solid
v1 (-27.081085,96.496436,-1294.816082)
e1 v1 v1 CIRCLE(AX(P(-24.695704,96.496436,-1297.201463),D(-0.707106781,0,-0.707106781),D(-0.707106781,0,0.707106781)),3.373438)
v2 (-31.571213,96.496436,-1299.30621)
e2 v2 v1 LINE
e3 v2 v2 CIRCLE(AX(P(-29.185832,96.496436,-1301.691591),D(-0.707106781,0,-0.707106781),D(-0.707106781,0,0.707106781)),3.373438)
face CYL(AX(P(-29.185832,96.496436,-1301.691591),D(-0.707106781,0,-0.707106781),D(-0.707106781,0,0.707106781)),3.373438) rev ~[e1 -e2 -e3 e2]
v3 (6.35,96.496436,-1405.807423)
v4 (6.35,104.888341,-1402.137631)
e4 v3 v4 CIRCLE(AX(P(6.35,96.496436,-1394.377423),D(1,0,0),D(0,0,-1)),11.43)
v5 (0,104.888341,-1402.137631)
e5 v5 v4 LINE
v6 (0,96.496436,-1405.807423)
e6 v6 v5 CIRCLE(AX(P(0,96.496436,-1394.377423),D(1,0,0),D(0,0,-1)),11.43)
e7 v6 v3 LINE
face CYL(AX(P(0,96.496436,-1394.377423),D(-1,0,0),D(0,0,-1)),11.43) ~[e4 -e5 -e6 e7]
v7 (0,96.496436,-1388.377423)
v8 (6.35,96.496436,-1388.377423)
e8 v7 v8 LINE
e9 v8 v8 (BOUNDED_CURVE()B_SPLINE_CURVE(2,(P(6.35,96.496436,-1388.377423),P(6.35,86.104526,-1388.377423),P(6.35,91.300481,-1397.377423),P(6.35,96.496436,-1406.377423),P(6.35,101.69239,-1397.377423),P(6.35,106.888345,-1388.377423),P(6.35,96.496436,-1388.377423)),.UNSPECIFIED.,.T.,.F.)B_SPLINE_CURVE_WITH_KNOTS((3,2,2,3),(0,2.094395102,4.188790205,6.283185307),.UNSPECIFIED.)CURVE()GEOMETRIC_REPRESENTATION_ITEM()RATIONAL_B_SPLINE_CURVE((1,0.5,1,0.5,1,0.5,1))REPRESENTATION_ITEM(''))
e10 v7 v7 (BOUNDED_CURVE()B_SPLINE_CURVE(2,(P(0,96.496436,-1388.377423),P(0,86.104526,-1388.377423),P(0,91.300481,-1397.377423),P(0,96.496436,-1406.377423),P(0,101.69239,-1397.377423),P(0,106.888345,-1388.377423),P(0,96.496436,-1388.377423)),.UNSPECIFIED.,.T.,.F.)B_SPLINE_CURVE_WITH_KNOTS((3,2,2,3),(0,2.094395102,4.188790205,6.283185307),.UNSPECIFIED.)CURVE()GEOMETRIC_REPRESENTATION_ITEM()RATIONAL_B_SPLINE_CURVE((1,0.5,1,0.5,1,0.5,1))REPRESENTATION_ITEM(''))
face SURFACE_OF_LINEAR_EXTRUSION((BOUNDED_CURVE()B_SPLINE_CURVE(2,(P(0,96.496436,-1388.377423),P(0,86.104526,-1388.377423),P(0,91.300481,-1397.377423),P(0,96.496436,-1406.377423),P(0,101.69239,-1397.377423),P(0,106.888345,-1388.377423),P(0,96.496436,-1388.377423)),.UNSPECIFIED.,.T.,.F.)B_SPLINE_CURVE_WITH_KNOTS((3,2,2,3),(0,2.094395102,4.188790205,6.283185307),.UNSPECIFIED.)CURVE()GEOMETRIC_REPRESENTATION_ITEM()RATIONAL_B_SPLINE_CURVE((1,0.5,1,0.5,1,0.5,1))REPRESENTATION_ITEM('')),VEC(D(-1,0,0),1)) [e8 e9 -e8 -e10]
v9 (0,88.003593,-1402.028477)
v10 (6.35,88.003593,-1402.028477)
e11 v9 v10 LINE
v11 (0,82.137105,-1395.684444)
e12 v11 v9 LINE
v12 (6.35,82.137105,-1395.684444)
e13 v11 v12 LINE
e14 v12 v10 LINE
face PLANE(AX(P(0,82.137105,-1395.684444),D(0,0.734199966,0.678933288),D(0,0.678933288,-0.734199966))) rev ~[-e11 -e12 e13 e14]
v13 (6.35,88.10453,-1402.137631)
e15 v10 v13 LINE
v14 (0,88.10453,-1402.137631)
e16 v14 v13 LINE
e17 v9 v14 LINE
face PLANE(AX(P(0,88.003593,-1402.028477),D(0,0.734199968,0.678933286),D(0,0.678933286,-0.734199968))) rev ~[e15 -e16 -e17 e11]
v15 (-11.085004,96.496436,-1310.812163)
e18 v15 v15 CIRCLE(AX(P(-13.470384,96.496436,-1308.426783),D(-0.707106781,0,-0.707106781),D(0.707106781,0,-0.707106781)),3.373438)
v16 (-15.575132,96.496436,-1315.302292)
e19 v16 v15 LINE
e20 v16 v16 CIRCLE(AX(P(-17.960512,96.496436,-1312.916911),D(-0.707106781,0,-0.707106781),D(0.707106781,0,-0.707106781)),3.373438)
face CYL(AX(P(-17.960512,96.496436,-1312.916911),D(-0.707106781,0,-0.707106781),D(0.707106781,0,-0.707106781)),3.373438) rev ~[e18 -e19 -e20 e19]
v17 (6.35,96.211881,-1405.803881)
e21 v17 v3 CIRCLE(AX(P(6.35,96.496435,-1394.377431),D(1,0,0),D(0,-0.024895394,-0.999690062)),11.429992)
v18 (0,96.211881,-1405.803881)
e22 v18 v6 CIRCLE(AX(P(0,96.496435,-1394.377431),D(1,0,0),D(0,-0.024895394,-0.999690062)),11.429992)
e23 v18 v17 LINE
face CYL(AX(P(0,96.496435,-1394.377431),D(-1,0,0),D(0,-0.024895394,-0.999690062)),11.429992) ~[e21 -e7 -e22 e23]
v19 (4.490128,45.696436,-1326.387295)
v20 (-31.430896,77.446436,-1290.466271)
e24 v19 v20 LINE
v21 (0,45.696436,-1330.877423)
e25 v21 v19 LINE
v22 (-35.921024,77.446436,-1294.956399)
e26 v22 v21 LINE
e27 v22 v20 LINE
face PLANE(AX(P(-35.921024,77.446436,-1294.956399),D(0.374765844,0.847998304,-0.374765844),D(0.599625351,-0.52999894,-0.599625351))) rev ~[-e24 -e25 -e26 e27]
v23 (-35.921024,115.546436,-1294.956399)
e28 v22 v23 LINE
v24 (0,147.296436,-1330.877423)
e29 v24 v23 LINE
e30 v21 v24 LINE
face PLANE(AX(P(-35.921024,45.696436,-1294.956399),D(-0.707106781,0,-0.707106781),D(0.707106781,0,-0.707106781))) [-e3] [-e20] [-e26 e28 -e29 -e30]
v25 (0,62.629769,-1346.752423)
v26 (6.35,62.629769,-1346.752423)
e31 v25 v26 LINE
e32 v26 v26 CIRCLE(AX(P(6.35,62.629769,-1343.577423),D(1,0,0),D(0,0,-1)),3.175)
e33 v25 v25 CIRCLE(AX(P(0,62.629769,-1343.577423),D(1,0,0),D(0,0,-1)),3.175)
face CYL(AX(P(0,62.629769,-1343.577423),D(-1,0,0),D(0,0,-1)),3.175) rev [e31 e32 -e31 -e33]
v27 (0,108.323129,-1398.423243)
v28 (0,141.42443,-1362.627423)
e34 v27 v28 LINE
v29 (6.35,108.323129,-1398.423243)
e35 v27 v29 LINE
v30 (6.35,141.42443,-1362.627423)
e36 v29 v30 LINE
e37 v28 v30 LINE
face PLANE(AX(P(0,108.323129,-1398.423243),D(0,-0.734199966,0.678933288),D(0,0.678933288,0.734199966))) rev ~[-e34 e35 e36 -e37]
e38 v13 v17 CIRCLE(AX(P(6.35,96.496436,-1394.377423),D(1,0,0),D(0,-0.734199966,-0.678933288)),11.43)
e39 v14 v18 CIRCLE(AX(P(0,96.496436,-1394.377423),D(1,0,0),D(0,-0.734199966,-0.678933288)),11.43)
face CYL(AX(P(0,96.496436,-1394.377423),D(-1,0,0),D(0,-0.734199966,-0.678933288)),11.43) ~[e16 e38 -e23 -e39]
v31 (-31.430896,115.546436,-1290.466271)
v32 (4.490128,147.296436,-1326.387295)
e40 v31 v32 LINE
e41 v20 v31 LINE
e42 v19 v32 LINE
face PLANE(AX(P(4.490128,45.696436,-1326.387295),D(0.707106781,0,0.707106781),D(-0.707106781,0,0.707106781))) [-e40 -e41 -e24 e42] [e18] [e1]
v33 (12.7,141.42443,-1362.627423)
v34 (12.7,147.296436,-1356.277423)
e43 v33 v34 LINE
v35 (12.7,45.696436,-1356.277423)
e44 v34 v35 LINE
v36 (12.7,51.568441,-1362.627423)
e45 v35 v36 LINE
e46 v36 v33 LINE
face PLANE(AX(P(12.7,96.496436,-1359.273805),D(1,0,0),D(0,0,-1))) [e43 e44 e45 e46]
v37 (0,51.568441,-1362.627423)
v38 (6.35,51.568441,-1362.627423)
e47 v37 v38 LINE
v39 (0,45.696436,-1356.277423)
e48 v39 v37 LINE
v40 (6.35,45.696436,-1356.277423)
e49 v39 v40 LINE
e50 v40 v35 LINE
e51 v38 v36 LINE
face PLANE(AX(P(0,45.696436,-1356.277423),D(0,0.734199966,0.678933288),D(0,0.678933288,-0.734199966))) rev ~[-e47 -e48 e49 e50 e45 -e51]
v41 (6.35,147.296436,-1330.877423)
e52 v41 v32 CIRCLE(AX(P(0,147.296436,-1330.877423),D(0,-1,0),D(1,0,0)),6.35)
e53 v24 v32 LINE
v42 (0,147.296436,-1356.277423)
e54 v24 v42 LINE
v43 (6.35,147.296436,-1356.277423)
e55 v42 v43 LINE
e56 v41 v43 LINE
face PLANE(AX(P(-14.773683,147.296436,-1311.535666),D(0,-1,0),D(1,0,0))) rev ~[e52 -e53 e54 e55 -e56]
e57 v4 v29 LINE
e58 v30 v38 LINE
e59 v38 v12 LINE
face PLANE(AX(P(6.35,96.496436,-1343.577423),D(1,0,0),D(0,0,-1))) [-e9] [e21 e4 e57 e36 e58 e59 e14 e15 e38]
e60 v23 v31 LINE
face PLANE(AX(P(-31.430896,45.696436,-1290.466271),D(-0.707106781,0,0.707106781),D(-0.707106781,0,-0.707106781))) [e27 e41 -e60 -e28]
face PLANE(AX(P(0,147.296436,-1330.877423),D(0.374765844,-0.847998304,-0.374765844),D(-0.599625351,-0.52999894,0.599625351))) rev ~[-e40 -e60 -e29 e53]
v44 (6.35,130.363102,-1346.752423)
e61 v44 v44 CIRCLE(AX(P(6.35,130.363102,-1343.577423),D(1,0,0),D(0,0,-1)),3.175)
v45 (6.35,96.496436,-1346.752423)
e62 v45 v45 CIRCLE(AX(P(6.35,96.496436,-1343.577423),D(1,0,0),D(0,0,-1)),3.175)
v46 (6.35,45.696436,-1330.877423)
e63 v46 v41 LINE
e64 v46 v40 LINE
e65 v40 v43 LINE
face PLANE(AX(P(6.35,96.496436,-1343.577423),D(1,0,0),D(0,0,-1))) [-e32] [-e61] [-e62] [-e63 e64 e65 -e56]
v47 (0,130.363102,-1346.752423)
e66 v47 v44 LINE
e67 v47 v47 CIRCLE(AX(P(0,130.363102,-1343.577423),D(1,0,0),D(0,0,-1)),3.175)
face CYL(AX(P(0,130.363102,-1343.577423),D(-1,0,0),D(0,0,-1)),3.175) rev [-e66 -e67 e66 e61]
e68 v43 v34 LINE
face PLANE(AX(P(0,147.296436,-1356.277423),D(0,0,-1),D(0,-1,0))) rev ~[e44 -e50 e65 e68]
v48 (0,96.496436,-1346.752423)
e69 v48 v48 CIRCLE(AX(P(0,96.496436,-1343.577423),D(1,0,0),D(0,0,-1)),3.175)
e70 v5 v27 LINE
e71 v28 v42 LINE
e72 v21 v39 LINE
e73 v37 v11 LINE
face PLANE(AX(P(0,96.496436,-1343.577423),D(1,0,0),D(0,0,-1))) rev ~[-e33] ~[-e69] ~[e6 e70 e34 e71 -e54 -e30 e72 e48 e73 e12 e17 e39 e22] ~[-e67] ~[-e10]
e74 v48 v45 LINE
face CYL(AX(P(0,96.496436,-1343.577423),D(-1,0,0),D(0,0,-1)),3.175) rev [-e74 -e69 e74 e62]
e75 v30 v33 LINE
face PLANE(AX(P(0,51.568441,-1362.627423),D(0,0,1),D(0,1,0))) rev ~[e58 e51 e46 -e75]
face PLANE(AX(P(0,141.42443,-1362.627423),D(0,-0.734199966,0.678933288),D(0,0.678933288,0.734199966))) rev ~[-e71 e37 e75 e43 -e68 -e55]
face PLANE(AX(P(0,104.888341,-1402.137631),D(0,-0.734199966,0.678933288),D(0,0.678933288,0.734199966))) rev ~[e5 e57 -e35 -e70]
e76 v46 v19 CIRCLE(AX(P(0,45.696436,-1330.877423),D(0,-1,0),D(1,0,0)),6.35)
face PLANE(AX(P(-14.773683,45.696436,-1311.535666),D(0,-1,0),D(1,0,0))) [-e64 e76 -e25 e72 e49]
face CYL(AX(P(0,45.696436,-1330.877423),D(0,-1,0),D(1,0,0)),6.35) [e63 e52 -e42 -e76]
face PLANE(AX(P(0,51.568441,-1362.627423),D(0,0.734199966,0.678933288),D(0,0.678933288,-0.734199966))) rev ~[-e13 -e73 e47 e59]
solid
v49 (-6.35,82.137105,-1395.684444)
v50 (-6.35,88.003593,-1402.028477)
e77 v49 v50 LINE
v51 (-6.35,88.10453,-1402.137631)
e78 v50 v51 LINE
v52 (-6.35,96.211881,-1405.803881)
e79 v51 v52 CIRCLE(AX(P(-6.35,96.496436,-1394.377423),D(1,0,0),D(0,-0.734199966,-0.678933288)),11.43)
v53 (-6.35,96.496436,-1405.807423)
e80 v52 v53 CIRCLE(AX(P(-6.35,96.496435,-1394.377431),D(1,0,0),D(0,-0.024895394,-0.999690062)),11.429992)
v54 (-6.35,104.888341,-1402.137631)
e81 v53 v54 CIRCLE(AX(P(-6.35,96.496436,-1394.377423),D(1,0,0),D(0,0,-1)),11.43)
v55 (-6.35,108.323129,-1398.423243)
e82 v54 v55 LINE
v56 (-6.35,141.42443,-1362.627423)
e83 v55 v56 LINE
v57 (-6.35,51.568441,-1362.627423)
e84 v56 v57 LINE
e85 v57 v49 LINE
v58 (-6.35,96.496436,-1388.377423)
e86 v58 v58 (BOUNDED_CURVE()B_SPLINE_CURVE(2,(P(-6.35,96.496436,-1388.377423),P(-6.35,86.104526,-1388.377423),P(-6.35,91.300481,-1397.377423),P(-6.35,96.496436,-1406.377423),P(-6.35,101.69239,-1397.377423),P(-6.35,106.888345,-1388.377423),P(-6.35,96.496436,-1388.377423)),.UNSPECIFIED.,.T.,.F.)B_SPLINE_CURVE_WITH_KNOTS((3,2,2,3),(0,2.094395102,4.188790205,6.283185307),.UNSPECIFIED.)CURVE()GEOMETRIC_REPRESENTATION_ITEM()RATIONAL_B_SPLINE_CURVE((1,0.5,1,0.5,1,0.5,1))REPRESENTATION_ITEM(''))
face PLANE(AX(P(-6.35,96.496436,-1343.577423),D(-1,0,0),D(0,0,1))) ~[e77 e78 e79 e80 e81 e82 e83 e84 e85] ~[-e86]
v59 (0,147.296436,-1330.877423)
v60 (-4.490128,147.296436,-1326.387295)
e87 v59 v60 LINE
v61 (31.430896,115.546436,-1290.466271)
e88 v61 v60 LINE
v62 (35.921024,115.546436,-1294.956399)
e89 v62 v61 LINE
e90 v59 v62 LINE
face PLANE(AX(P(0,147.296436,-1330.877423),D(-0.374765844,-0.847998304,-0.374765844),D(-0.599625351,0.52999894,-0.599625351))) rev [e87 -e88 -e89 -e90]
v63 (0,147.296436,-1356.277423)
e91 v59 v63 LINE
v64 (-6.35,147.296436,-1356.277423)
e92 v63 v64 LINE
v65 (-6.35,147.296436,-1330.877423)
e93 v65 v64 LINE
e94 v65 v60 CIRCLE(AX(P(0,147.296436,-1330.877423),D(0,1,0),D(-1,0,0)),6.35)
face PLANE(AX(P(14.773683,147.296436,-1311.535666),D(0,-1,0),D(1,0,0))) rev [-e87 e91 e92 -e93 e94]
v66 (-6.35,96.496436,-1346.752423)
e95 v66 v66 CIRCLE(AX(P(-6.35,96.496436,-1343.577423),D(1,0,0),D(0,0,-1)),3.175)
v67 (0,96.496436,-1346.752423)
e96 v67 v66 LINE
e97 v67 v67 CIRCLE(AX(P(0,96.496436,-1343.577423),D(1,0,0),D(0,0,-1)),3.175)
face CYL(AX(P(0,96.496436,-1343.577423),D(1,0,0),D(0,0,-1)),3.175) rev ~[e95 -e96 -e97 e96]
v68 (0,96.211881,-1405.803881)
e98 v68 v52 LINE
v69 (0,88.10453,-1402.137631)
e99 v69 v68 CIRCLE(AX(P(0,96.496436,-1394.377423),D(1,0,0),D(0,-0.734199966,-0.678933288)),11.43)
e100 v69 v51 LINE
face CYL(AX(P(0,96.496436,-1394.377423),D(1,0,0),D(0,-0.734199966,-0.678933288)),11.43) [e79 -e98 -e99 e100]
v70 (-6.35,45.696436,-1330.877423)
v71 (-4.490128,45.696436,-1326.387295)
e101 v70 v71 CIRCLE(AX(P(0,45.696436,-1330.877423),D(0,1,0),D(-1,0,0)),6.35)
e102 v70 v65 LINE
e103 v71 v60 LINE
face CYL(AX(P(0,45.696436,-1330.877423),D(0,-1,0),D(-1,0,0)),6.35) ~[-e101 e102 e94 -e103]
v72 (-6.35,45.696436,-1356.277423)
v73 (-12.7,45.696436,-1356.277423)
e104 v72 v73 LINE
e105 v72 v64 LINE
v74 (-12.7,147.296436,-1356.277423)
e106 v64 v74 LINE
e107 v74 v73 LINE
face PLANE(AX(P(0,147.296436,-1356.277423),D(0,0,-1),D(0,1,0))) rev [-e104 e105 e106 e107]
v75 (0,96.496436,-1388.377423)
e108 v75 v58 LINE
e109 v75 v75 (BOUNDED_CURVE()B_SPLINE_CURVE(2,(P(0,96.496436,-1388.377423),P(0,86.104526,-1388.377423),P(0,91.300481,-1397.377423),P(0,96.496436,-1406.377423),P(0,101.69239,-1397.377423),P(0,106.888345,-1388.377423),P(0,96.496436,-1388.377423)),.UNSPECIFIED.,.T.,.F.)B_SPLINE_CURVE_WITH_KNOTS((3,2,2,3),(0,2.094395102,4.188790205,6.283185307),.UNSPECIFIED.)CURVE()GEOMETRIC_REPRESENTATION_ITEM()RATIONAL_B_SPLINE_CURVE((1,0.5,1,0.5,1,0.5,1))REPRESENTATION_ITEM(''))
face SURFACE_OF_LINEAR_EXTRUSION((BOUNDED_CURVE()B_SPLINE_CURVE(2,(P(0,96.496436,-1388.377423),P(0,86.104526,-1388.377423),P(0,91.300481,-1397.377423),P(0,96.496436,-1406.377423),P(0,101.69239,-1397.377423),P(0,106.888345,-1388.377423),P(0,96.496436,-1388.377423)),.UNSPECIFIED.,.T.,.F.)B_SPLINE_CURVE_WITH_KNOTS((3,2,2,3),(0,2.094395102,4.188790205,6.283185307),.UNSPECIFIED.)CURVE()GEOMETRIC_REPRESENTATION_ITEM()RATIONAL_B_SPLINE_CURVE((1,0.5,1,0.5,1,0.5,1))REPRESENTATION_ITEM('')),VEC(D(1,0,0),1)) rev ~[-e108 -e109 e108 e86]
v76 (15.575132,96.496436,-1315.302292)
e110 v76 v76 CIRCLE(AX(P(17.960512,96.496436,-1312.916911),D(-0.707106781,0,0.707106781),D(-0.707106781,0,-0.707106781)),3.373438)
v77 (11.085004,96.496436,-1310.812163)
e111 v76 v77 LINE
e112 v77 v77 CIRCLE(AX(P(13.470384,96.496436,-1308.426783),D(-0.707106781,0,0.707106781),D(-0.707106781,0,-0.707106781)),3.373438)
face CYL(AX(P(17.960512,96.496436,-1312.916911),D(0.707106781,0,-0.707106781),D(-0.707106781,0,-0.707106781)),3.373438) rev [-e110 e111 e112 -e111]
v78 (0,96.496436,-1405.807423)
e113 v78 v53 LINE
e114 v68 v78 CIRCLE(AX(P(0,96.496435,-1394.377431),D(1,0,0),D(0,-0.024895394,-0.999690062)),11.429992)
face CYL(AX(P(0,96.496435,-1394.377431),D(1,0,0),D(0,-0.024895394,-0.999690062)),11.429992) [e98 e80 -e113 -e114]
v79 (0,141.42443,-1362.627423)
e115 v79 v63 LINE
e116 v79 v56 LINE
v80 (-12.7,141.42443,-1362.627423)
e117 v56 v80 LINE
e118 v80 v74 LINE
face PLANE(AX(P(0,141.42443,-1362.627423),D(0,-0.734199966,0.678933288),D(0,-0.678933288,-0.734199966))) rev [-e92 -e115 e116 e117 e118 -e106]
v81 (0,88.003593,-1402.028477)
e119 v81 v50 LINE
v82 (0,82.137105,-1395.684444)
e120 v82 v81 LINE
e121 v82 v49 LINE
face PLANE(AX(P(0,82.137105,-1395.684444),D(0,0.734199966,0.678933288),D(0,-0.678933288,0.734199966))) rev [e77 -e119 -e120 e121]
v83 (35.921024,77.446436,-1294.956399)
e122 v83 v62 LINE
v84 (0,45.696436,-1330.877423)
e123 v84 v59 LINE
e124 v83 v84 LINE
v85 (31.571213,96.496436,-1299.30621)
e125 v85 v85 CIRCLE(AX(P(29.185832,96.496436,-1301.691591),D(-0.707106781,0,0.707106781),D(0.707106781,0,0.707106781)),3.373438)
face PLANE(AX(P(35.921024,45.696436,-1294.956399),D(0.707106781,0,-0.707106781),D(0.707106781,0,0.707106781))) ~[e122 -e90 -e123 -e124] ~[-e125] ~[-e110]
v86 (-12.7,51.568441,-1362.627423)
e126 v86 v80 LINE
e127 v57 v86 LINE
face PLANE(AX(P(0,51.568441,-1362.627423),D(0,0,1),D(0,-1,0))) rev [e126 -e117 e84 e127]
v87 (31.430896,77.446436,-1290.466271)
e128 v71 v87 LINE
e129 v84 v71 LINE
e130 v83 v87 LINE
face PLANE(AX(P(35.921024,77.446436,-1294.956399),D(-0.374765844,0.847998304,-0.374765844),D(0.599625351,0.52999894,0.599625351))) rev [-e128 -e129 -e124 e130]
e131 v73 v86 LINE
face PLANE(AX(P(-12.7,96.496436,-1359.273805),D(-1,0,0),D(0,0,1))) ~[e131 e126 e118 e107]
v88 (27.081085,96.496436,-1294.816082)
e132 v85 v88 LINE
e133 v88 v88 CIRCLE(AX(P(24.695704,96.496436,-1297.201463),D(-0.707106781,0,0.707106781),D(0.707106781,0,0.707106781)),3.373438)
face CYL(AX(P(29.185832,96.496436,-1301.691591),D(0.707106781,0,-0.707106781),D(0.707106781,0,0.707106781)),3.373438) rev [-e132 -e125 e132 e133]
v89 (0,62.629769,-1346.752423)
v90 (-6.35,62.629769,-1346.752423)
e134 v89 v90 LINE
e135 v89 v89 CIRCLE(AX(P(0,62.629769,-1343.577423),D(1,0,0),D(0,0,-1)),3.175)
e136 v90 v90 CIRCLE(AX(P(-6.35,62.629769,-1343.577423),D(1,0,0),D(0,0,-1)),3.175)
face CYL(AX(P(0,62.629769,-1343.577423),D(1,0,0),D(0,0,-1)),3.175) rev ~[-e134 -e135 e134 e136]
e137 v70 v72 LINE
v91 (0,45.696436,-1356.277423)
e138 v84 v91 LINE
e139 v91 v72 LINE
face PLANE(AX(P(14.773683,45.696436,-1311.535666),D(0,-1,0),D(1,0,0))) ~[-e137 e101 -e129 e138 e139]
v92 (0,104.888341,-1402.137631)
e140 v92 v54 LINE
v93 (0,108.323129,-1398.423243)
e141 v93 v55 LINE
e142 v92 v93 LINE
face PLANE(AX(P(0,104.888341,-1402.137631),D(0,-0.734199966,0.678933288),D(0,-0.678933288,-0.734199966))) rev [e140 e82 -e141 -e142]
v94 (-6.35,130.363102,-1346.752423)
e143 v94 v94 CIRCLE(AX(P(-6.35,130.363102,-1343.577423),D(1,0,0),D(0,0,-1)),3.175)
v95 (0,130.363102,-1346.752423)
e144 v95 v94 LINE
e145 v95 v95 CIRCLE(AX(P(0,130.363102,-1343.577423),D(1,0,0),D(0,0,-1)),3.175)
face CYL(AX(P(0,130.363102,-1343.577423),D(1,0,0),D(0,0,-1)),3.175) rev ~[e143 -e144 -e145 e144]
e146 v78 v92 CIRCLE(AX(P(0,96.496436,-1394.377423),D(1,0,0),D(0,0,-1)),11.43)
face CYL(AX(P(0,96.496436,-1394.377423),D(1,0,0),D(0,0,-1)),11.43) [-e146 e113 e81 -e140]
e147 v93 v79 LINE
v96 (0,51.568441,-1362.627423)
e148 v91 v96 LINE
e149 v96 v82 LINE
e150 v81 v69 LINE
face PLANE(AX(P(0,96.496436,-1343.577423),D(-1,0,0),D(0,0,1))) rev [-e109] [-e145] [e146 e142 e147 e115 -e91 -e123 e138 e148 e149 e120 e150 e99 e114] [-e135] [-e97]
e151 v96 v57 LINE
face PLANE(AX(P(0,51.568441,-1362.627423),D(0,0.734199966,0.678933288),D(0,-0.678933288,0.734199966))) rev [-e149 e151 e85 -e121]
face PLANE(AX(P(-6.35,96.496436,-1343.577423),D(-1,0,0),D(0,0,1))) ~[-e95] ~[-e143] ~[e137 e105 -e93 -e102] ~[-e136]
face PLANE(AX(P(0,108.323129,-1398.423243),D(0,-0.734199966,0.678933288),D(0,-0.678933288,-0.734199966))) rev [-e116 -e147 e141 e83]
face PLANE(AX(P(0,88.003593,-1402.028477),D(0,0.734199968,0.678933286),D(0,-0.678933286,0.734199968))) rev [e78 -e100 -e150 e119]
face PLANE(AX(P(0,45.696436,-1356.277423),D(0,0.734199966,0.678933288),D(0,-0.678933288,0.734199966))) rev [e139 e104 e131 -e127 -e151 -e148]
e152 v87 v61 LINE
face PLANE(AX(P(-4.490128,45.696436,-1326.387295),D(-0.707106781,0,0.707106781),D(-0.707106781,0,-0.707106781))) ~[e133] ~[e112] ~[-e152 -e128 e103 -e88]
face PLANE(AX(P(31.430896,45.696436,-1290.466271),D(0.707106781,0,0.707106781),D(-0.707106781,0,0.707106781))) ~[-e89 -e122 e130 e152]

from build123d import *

# Parameters (mm, degrees)
SKETCH1_W           = 25.4
SKETCH1_H           = 101.6
SKETCH1_R           = 3.175
BOSS_EXTRUDE1_DEPTH = 6.35
BOSS_EXTRUDE2_DEPTH = 12.7
BOSS_EXTRUDE3_DEPTH = 101.6
CUT_EXTRUDE1_DEPTH  = 1015.748334056
CUT_EXTRUDE4_DEPTH  = 1015.748334056


with BuildPart() as part:
    # Sketch1 → Boss-Extrude1 (new body)
    # profile 1 of 7: a face of its own
    with BuildSketch(Plane(origin=(0, 0, 0), x_dir=(0, 0, -1), z_dir=(1, 0, 0))):
        with BuildLine():
            Line((1398.423242973, 108.323129495), (1362.627423264, 141.42442982))
            Line((1362.627423264, 141.42442982), (1362.627423264, 51.568441203))
            Line((1362.627423264, 51.568441203), (1395.68444407, 82.137104875))
            Line((1395.68444407, 82.137104875), (1389.154234775, 85.14044675))
            add(Edge.make_bspline(
                [(1398.423242973, 108.323129495), (1387.739315105, 111.977739505), (1383.021002085, 101.719425118), (1377.797813595, 90.363436356), (1389.154234775, 85.14044675)],
                knots=[1.250204036, 1.250204036, 1.250204036, 2.710509531, 2.710509531, 4.281305858, 4.281305858, 4.281305858], degree=2, weights=[0.96169376, 0.72770908, 1, 0.707106781, 1]))
        make_face()
    # profile 2 of 7: a face of its own
    with BuildSketch(Plane(origin=(0, 0, 0), x_dir=(0, 0, -1), z_dir=(1, 0, 0))):
        with BuildLine():
            Line((1402.137630748, 104.888341124), (1398.423242973, 108.323129495))
            add(Edge.make_bspline(
                [(1398.423242973, 108.323129495), (1387.739315105, 111.977739505), (1383.021002085, 101.719425118), (1377.797813595, 90.363436356), (1389.154234775, 85.14044675)],
                knots=[1.250204036, 1.250204036, 1.250204036, 2.710509531, 2.710509531, 4.281305858, 4.281305858, 4.281305858], degree=2, weights=[0.96169376, 0.72770908, 1, 0.707106781, 1]))
            Line((1389.154234775, 85.14044675), (1395.68444407, 82.137104875))
            Line((1395.68444407, 82.137104875), (1402.028477486, 88.003593115))
            Line((1402.028477486, 88.003593115), (1402.029499743, 88.005815653))
            ThreePointArc((1402.029499743, 88.005815653), (1382.947657703, 96.569642096), (1402.137630748, 104.888341124))
        make_face()
    # profile 3 of 7: a face of its own
    with BuildSketch(Plane(origin=(0, 0, 0), x_dir=(0, 0, -1), z_dir=(1, 0, 0))):
        with BuildLine():
            ThreePointArc((1405.807423264, 96.496435511), (1404.849864993, 101.076049494), (1402.137630748, 104.888341124))
            ThreePointArc((1402.137630748, 104.888341124), (1382.947657703, 96.569642096), (1402.029499743, 88.005815653))
            Line((1402.029499743, 88.005815653), (1405.803880671, 96.211881257))
            ThreePointArc((1405.803880671, 96.211881257), (1405.806537582, 96.354147359), (1405.807423264, 96.496435511))
        make_face()
        with BuildLine():
            add(Edge.make_bspline(
                [(1388.377423264, 96.496435511), (1388.377423264, 86.104526373), (1397.377423264, 91.300480942), (1406.377423264, 96.496435511), (1397.377423264, 101.69239008), (1388.377423264, 106.888344649), (1388.377423264, 96.496435511)],
                knots=[0, 0, 0, 2.094395102, 2.094395102, 4.188790205, 4.188790205, 6.283185307, 6.283185307, 6.283185307], degree=2, weights=[1, 0.5, 1, 0.5, 1, 0.5, 1]))
        make_face(mode=Mode.SUBTRACT)
    # profile 4 of 7: a face of its own
    with BuildSketch(Plane(origin=(0, 0, 0), x_dir=(0, 0, -1), z_dir=(1, 0, 0))):
        with BuildLine():
            Line((1405.803880671, 96.211881257), (1402.029499743, 88.005815653))
            ThreePointArc((1402.029499743, 88.005815653), (1402.083723308, 88.054999635), (1402.137630748, 88.104529898))
            ThreePointArc((1402.137630748, 88.104529898), (1404.792043465, 91.786808554), (1405.803880671, 96.211881257))
        make_face()
    # profile 5 of 7: a face of its own
    with BuildSketch(Plane(origin=(0, 0, 0), x_dir=(0, 0, -1), z_dir=(1, 0, 0))):
        with BuildLine():
            ThreePointArc((1402.137630748, 88.104529898), (1402.083723308, 88.054999635), (1402.029499743, 88.005815653))
            Line((1402.029499743, 88.005815653), (1402.028477486, 88.003593115))
            Line((1402.028477486, 88.003593115), (1402.137630748, 88.104529898))
        make_face()
    # profile 6 of 7: a face of its own
    with BuildSketch(Plane(origin=(0, 0, 0), x_dir=(0, 0, -1), z_dir=(1, 0, 0))):
        Polygon((1362.627423264, 51.568441203), (1362.627423264, 141.42442982), (1356.277423264, 147.296435511), (1356.277423264, 45.696435511), align=None)
    # profile 7 of 7: a face of its own
    with BuildSketch(Plane(origin=(0, 0, 0), x_dir=(0, 0, -1), z_dir=(1, 0, 0))):
        with Locations((1343.577423264, 96.496435511)):
            Rectangle(SKETCH1_W, SKETCH1_H)
        with Locations((1343.577423264, 96.496435511)):
            Circle(SKETCH1_R, mode=Mode.SUBTRACT)
        with Locations((1343.577423264, 130.363102178)):
            Circle(SKETCH1_R, mode=Mode.SUBTRACT)
        with Locations((1343.577423264, 62.629768844)):
            Circle(SKETCH1_R, mode=Mode.SUBTRACT)
    extrude(amount=BOSS_EXTRUDE1_DEPTH)

    # Sketch1<4> → Boss-Extrude2 (add)
    with BuildSketch(Plane(origin=(0, 0, 0), x_dir=(0, 0, -1), z_dir=(1, 0, 0))):
        Polygon((1362.627423264, 51.568441203), (1362.627423264, 141.42442982), (1356.277423264, 147.296435511), (1356.277423264, 45.696435511), align=None)
    extrude(amount=BOSS_EXTRUDE2_DEPTH)

    # Sketch2 → Boss-Extrude3 (add)
    with BuildSketch(Plane.XZ.offset(-45.696435511)):
        with BuildLine():
            Line((-35.921024484, -1294.95639878), (0, -1330.877423264))
            Line((0, -1330.877423264), (6.35, -1330.877423264))
            ThreePointArc((6.35, -1330.877423264), (5.866635031, -1328.447383469), (4.490128061, -1326.387295204))
            Line((4.490128061, -1326.387295204), (-31.430896424, -1290.46627072))
            Line((-31.430896424, -1290.46627072), (-35.921024484, -1294.95639878))
        make_face()
    extrude(amount=-BOSS_EXTRUDE3_DEPTH)

    # Sketch3 → Cut-Extrude1 (cut, through all)
    with BuildSketch(Plane(origin=(-665.438711632, 0, -665.438711632), x_dir=(-0.7071067811865446, 0, 0.7071067811865505), z_dir=(-0.7071067811865505, 0, -0.7071067811865446))):
        Polygon((-890.272450918, 147.296435511), (-941.072450918, 147.296435511), (-890.272450918, 115.546435511), align=None)
        Polygon((-890.272450918, 45.696435511), (-890.272450918, 77.446435511), (-941.072450918, 45.696435511), align=None)
    extrude(amount=-CUT_EXTRUDE1_DEPTH, mode=Mode.SUBTRACT)

    # Sketch7 → Cut-Extrude4 (cut, through all)
    with BuildSketch(Plane(origin=(-665.438711632, 0, -665.438711632), x_dir=(-0.7071067811865439, 0, 0.7071067811865511), z_dir=(-0.7071067811865511, 0, -0.7071067811865439))):
        with BuildLine():
            ThreePointArc((-912.299013418, 96.496435511), (-915.672450918, 99.869873011), (-919.045888418, 96.496435511))
            Line((-919.045888418, 96.496435511), (-912.299013418, 96.496435511))
        make_face()
        with BuildLine():
            Line((-912.299013418, 96.496435511), (-919.045888418, 96.496435511))
            ThreePointArc((-919.045888418, 96.496435511), (-915.672450918, 93.122998011), (-912.299013418, 96.496435511))
        make_face()
        with BuildLine():
            ThreePointArc((-903.170888418, 96.496435511), (-899.797450918, 93.122998011), (-896.424013418, 96.496435511))
            Line((-896.424013418, 96.496435511), (-903.170888418, 96.496435511))
        make_face()
        with BuildLine():
            Line((-903.170888418, 96.496435511), (-896.424013418, 96.496435511))
            ThreePointArc((-896.424013418, 96.496435511), (-899.797450918, 99.869873011), (-903.170888418, 96.496435511))
        make_face()
    extrude(amount=-CUT_EXTRUDE4_DEPTH, mode=Mode.SUBTRACT)


with BuildPart() as body_2:
    # Mirror1: mirrored copy
    add(part.part.mirror(Plane(origin=(0, 0, 0), x_dir=(0, 0, 1), z_dir=(1, 0, 0))))


solid = Compound([part.part, body_2.part])
